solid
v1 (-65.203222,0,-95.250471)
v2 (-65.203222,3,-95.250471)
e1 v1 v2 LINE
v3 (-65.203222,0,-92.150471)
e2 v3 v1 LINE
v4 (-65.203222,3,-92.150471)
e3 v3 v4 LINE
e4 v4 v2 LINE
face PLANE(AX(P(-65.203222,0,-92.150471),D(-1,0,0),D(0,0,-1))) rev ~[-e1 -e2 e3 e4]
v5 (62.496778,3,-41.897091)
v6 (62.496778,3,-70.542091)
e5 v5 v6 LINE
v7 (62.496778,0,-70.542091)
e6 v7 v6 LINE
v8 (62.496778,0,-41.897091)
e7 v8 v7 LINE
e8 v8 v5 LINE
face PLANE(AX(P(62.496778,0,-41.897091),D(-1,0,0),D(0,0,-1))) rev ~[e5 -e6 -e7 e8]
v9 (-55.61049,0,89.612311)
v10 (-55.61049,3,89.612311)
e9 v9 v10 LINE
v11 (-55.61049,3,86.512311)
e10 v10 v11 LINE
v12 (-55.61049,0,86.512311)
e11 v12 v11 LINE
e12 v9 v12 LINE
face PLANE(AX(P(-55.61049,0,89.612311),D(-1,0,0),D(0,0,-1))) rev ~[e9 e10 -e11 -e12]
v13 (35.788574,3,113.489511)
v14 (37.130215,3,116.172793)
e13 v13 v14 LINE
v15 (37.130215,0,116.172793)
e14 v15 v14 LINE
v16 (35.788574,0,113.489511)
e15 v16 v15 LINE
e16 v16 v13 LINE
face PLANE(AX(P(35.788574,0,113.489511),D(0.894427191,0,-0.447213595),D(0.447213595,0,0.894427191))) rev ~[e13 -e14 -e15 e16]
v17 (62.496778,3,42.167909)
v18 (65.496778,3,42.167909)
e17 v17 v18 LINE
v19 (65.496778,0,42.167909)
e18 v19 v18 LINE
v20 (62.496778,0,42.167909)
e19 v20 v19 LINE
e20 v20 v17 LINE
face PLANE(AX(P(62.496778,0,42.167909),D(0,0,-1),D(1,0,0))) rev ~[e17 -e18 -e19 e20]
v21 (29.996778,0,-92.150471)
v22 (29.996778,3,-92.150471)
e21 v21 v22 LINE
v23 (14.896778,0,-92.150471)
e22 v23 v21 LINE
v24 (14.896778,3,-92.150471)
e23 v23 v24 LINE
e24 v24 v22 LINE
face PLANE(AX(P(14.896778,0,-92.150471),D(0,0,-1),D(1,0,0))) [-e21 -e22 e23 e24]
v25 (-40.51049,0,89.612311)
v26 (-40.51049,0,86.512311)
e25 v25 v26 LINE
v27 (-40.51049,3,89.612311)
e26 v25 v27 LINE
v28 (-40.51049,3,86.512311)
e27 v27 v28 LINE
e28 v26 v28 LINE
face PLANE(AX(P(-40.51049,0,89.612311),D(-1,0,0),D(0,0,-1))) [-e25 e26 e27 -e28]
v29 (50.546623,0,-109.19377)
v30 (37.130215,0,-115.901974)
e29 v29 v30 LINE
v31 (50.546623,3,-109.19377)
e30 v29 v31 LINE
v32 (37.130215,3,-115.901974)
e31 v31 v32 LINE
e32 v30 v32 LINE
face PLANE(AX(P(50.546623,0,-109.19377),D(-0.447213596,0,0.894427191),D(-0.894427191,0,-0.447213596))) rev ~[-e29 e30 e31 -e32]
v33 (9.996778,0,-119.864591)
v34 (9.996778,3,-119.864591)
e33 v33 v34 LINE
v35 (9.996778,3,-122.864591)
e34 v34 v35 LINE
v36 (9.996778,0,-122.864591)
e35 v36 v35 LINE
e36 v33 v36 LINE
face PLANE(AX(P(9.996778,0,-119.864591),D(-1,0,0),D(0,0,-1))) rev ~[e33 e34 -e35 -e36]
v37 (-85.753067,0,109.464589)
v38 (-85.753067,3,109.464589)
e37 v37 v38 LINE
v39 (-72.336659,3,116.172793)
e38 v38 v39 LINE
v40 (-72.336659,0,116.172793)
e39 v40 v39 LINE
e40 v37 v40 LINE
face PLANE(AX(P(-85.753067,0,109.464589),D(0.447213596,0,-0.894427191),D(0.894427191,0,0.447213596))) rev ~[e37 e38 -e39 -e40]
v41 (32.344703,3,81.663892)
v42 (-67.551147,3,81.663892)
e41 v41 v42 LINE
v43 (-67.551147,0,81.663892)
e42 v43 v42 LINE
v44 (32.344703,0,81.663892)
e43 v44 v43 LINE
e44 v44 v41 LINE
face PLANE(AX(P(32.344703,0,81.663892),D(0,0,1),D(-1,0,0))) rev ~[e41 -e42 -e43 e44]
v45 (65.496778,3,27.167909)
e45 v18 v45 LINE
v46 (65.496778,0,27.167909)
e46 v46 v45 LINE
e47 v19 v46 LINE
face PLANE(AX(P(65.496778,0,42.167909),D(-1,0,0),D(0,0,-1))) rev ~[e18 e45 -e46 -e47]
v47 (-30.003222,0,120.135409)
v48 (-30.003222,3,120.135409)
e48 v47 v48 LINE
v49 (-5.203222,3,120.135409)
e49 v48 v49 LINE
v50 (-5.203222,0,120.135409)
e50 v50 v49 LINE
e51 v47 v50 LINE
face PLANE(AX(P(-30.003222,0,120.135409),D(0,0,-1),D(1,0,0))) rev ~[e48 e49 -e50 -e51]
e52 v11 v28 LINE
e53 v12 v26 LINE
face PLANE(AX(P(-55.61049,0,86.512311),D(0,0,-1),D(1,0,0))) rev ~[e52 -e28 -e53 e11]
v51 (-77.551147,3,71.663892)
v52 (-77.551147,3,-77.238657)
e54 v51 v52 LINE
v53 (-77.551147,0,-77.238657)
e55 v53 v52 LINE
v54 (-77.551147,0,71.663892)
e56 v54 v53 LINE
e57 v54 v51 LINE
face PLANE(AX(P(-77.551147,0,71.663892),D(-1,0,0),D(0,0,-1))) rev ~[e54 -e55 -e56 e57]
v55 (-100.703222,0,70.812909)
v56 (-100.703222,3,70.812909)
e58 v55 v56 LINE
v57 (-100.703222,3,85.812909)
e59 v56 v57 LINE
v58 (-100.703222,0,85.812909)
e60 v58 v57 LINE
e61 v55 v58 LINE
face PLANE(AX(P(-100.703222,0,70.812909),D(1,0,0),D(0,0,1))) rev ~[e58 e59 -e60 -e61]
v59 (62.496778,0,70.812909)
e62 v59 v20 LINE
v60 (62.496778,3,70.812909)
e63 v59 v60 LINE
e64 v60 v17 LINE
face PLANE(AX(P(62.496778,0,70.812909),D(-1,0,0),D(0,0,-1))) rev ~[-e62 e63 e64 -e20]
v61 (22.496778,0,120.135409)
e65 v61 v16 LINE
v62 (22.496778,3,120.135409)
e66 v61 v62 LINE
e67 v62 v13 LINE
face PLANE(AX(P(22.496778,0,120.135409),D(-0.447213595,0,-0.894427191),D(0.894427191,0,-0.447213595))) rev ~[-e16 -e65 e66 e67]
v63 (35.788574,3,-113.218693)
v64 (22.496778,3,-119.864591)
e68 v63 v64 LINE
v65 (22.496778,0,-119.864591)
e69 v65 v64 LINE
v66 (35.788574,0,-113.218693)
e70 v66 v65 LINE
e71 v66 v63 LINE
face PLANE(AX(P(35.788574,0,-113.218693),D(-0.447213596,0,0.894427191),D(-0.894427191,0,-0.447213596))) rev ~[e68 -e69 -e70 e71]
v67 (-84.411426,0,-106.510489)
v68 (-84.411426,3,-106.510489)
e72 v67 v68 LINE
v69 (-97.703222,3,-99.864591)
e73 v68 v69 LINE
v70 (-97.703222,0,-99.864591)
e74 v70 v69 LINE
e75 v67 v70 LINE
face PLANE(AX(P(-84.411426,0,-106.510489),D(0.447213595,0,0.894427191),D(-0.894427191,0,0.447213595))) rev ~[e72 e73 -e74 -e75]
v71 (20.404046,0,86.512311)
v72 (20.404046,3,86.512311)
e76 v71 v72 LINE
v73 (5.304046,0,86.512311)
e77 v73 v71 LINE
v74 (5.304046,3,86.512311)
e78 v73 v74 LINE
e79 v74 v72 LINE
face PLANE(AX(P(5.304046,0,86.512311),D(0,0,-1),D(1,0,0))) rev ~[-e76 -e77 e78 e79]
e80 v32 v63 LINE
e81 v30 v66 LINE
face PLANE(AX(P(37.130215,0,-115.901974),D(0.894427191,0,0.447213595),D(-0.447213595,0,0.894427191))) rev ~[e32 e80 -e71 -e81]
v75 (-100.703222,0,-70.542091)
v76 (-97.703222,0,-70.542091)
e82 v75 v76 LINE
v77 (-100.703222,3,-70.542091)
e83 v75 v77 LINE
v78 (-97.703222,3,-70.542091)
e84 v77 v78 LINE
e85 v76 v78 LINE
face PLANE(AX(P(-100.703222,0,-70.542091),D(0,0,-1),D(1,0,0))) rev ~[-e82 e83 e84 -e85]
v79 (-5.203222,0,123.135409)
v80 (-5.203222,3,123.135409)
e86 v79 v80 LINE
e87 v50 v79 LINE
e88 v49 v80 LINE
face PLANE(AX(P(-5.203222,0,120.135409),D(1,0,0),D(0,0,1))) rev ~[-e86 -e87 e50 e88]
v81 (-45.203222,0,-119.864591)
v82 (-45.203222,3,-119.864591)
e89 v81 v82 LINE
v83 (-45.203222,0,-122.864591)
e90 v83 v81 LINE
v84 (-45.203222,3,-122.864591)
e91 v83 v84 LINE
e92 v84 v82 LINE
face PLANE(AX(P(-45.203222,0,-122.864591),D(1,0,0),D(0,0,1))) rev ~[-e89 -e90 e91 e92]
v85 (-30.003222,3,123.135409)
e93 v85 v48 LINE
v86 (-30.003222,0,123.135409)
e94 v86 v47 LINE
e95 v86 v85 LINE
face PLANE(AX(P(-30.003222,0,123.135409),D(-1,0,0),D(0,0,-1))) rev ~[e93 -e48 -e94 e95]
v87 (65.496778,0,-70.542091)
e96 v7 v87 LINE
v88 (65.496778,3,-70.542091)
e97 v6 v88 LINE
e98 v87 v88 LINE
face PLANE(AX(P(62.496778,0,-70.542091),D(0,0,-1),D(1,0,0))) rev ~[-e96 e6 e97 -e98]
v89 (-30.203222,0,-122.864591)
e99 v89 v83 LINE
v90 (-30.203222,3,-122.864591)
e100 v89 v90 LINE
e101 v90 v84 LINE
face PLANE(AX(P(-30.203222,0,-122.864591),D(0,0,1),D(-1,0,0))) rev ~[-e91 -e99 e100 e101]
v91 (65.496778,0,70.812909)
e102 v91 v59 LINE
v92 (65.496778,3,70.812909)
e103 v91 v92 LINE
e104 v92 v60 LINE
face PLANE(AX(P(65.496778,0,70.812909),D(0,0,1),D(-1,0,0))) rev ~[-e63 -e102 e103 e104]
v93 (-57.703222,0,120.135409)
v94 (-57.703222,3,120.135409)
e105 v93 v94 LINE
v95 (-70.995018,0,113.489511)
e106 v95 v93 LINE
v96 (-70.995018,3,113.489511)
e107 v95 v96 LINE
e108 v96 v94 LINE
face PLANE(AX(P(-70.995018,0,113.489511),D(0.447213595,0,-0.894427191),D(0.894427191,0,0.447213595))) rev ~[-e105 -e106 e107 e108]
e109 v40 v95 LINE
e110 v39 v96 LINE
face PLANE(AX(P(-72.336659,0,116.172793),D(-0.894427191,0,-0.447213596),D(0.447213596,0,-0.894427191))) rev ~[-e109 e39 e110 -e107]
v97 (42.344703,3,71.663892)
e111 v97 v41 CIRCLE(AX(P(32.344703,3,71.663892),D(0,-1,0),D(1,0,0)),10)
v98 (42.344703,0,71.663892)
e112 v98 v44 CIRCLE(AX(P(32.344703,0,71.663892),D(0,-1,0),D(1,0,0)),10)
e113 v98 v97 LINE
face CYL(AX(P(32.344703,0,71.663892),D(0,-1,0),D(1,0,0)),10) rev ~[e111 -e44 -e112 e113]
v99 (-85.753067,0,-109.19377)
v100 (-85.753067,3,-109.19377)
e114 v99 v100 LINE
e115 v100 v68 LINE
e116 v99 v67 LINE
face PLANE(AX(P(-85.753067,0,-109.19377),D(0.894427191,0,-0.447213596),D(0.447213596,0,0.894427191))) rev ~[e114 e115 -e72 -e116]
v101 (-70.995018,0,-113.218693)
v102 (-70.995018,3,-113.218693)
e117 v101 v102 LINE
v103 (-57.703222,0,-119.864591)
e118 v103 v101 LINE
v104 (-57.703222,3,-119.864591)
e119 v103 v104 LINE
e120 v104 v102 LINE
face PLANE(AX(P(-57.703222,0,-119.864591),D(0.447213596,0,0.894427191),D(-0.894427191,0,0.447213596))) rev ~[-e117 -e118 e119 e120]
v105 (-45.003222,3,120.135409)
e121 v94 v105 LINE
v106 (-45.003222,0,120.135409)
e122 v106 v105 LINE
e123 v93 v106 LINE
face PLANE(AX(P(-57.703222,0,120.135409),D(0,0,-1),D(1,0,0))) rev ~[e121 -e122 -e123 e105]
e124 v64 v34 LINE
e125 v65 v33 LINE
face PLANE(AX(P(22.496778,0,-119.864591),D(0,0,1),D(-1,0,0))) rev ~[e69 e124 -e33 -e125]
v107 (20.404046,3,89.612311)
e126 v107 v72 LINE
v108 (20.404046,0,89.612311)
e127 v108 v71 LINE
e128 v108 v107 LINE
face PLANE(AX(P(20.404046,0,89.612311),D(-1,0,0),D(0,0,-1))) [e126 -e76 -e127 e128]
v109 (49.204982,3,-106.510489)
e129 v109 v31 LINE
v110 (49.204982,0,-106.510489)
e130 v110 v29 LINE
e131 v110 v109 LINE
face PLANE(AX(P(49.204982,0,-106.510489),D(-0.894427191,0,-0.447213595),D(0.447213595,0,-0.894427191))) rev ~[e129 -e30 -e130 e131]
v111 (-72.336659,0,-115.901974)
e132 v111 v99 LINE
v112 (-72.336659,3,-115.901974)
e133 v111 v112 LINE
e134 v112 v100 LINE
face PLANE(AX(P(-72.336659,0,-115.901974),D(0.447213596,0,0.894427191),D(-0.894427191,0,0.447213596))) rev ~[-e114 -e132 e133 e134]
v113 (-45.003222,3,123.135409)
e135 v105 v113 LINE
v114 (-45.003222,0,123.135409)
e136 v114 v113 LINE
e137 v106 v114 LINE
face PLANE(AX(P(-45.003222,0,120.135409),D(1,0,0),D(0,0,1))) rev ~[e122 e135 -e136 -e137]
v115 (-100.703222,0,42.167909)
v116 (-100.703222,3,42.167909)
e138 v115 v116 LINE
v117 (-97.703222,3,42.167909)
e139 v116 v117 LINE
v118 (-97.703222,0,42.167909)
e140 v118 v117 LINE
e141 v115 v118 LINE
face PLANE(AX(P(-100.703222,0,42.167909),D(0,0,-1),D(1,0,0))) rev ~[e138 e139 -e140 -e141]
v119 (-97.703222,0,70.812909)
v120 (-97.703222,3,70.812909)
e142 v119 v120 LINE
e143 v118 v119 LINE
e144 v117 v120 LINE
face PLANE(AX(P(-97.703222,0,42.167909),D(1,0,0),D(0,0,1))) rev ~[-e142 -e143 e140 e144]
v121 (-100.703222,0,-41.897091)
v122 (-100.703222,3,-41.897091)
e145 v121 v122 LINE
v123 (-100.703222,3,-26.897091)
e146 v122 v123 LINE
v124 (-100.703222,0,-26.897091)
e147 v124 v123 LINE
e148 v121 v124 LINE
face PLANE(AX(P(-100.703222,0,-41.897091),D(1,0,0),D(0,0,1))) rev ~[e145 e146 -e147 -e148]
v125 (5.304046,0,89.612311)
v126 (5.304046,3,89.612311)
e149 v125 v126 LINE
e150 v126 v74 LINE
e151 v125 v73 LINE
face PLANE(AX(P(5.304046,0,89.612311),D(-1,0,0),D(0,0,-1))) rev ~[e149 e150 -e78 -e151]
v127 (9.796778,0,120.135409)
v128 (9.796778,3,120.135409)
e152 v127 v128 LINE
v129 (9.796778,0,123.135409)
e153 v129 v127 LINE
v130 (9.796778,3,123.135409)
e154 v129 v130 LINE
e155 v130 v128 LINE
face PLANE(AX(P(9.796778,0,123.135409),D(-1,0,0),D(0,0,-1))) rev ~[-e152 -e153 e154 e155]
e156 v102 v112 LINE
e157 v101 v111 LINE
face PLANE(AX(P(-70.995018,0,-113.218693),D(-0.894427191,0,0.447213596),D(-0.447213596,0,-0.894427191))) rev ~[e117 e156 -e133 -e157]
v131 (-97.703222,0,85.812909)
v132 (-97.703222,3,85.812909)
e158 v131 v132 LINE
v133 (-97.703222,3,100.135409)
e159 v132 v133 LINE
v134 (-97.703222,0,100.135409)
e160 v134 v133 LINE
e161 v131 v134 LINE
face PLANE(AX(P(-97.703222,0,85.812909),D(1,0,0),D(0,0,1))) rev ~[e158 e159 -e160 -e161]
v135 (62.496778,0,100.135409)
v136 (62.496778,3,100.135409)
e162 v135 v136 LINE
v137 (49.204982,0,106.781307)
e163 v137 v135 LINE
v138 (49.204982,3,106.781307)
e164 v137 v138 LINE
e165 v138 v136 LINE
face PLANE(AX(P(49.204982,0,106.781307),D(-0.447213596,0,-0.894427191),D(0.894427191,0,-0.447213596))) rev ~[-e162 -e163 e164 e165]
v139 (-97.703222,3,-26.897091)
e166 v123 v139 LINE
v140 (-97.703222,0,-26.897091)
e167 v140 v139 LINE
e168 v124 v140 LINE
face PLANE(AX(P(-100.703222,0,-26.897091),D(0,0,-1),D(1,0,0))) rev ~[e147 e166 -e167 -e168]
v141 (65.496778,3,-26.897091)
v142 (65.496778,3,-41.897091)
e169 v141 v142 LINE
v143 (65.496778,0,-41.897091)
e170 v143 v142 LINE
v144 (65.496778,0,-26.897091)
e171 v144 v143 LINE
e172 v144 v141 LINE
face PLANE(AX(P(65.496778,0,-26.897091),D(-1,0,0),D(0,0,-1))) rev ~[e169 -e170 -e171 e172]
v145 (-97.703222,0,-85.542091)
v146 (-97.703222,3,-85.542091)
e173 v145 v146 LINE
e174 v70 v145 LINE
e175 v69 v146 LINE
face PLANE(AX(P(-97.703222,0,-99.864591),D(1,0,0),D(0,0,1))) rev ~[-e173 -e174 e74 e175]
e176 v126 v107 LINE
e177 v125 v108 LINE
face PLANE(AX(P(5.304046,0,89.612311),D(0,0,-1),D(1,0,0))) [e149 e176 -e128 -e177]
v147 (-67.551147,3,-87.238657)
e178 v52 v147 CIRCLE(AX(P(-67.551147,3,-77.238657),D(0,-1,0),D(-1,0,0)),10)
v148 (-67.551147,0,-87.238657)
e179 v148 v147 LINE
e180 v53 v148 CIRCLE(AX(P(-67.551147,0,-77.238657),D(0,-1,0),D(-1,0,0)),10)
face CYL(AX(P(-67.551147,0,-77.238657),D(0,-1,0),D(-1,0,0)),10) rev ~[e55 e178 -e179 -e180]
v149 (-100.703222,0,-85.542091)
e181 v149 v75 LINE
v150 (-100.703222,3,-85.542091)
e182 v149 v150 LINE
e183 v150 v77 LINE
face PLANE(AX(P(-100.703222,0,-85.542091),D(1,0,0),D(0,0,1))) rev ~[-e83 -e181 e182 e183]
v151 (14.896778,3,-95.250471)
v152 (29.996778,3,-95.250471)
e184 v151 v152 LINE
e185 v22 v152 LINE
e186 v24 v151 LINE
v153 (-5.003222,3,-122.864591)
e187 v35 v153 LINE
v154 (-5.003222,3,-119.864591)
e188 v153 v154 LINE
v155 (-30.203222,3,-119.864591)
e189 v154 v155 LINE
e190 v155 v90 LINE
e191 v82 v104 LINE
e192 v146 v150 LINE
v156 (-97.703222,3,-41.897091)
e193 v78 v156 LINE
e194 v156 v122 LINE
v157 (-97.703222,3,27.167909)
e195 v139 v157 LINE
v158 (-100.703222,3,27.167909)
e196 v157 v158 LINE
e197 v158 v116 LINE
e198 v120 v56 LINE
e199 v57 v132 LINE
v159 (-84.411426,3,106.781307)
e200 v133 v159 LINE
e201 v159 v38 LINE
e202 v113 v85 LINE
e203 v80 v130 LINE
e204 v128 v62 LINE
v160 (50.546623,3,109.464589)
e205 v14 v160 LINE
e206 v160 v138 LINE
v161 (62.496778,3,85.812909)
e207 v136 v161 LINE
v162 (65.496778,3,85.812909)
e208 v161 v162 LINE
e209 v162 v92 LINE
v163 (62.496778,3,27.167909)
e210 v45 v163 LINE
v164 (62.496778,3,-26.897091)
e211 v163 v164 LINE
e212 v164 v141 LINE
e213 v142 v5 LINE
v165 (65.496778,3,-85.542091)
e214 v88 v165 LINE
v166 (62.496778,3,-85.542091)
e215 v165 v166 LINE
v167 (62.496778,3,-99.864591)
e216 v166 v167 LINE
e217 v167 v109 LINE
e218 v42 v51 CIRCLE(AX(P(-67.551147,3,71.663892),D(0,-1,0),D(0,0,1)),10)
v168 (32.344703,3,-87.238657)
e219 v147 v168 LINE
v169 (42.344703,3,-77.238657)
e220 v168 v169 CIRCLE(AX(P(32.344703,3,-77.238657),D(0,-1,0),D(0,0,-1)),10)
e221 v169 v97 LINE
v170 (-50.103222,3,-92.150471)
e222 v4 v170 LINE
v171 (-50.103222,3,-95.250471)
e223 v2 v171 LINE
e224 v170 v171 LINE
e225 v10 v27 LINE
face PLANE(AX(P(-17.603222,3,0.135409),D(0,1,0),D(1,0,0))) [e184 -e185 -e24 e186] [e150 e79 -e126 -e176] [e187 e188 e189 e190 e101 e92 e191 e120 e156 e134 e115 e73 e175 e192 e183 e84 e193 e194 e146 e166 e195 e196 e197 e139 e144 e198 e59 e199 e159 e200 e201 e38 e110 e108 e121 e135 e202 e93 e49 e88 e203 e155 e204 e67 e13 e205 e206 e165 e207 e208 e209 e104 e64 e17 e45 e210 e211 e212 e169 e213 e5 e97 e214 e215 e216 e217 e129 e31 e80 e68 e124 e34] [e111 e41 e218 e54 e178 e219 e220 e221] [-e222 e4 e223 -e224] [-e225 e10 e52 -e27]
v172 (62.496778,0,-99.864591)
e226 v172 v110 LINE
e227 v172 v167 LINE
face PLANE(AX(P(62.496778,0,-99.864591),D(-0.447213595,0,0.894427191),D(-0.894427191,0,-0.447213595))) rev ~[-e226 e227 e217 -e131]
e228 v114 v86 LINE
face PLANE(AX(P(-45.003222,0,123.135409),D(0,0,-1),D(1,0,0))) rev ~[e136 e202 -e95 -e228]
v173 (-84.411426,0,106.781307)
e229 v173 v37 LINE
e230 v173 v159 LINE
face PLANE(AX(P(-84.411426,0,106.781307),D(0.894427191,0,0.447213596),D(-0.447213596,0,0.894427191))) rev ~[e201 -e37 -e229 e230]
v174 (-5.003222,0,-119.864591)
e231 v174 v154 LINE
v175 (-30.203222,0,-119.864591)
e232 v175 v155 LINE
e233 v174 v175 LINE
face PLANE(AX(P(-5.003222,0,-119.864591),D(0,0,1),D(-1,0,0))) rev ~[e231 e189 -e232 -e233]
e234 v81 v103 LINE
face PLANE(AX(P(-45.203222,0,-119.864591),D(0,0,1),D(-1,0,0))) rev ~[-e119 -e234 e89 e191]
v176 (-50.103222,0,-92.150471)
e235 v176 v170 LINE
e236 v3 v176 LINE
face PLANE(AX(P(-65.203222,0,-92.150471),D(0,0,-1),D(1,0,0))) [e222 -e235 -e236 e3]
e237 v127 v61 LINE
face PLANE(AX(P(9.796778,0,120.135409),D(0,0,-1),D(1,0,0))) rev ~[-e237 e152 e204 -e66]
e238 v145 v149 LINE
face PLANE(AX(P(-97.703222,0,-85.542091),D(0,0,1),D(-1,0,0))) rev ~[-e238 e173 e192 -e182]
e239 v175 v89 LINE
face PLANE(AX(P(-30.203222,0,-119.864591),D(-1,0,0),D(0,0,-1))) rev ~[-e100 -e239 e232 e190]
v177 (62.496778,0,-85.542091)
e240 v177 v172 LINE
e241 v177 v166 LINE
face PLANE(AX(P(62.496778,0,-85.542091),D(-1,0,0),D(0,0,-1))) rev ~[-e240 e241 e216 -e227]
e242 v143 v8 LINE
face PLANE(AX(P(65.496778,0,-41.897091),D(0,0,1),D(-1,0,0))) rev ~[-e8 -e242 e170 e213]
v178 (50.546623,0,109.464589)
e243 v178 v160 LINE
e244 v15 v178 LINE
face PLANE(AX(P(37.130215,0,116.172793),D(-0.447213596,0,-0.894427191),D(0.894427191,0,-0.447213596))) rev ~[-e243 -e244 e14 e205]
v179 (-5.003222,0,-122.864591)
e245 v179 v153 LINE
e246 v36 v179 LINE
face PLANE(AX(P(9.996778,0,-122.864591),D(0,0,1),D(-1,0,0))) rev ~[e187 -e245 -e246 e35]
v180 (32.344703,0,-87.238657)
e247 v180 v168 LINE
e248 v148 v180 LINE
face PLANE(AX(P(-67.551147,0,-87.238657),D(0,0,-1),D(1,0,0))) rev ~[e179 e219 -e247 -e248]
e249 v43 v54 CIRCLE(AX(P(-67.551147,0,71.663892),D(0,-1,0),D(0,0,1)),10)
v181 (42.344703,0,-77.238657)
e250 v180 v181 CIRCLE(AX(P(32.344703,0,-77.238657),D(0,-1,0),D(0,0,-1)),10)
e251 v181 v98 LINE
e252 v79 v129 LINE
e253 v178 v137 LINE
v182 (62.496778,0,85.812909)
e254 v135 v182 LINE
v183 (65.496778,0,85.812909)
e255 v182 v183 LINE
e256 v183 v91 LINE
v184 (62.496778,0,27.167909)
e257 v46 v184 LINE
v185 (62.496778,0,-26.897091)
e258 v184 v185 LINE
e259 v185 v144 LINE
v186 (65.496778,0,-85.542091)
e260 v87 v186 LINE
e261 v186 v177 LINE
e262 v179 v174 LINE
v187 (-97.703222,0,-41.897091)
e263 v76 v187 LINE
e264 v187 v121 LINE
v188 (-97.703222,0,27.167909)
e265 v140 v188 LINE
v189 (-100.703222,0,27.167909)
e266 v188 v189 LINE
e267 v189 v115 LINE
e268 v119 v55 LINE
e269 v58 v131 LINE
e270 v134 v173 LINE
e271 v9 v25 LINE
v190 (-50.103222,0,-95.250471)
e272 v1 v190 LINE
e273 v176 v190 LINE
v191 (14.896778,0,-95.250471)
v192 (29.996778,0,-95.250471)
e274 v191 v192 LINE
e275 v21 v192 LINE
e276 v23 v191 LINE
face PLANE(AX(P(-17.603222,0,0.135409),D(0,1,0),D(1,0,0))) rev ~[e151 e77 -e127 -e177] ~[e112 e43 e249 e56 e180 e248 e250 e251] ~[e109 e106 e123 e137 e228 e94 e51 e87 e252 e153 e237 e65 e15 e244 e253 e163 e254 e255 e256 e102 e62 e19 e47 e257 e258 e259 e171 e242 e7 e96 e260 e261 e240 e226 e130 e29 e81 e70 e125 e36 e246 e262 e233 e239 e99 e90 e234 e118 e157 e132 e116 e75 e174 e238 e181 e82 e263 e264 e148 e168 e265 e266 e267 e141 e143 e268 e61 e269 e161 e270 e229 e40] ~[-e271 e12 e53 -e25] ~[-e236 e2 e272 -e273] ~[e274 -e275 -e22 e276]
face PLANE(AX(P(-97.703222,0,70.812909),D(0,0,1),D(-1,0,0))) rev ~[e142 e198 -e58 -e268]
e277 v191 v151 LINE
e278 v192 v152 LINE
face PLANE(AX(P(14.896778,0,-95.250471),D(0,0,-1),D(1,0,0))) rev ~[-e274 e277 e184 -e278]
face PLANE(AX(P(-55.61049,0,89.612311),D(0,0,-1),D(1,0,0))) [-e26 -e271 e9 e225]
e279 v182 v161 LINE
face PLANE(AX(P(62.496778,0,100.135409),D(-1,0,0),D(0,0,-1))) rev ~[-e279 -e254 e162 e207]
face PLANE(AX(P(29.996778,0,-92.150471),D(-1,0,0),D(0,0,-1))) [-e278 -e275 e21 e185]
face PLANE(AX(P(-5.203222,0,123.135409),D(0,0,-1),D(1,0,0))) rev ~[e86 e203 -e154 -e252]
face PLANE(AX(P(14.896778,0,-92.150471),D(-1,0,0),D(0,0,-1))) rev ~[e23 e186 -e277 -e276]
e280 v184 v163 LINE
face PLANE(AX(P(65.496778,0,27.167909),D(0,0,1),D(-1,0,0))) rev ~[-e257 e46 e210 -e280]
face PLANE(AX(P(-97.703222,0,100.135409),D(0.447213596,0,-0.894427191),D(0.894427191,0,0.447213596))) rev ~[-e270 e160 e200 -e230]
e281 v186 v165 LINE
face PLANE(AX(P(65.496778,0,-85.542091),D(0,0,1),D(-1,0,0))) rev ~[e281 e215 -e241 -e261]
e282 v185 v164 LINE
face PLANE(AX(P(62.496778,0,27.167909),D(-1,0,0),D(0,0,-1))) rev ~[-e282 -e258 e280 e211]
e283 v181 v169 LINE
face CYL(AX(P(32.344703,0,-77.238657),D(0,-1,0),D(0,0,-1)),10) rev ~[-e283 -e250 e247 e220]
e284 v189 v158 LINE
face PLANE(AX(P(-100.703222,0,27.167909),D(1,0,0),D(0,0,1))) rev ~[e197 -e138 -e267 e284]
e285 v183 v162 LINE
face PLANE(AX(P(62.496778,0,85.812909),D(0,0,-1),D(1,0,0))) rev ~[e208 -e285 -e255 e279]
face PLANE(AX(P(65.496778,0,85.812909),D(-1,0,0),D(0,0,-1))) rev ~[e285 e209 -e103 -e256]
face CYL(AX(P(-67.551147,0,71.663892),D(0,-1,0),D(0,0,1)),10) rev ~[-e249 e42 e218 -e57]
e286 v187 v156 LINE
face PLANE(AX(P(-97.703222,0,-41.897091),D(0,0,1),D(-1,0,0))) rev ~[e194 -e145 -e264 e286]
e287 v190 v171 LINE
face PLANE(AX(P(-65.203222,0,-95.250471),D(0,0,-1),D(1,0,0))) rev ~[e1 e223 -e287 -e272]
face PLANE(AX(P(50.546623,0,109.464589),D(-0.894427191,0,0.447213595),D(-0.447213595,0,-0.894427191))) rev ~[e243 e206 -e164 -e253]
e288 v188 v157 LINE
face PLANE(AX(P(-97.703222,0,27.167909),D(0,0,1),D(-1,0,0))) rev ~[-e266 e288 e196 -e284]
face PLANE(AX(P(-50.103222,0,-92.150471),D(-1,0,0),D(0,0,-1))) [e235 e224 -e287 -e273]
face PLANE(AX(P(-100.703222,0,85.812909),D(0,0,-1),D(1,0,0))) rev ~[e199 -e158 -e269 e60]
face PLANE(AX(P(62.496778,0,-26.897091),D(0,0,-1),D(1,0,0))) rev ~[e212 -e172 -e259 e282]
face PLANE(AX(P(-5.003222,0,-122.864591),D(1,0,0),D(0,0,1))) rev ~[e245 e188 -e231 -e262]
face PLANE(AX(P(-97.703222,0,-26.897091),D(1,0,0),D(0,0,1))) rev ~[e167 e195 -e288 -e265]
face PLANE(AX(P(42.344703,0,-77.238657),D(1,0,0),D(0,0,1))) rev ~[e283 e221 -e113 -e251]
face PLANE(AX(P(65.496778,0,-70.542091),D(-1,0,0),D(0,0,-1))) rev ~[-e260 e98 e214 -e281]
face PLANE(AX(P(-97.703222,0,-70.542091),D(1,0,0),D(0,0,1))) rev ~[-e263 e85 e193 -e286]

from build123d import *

# Parameters (mm, degrees)
SKETCH1_W           = 15.1
SKETCH1_H           = 3.1
BOSS_EXTRUDE1_DEPTH = 3


with BuildPart() as part:
    # Sketch1 → Boss-Extrude1 (new body)
    with BuildSketch(Plane(origin=(0, 0, 0), x_dir=(1, 0, 0), z_dir=(0, 1, 0))):
        Polygon((22.496777959, -120.1354094), (35.788574027, -113.489511367), (37.130214813, -116.17279294), (50.546622678, -109.464589007), (49.204981892, -106.781307434), (62.496777959, -100.1354094), (62.496777959, -85.8129094), (65.496777959, -85.8129094), (65.496777959, -70.8129094), (62.496777959, -70.8129094), (62.496777959, -42.1679094), (65.496777959, -42.1679094), (65.496777959, -27.1679094), (62.496777959, -27.1679094), (62.496777959, 2.411735491), (62.496777959, 26.8970906), (65.496777959, 26.8970906), (65.496777959, 41.8970906), (62.496777959, 41.8970906), (62.496777959, 70.5420906), (65.496777959, 70.5420906), (65.496777959, 85.5420906), (62.496777959, 85.5420906), (62.496777959, 99.8645906), (49.204981892, 106.510488633), (50.546622678, 109.193770206), (37.130214813, 115.901974139), (35.788574027, 113.218692566), (22.496777959, 119.8645906), (9.996777959, 119.8645906), (9.996777959, 122.8645906), (-5.003222041, 122.8645906), (-5.003222041, 119.8645906), (-30.203222041, 119.8645906), (-30.203222041, 122.8645906), (-45.203222041, 122.8645906), (-45.203222041, 119.8645906), (-57.703222041, 119.8645906), (-70.995018108, 113.218692566), (-72.336658895, 115.901974139), (-85.75306676, 109.193770206), (-84.411425973, 106.510488633), (-97.703222041, 99.8645906), (-97.703222041, 85.5420906), (-100.703222041, 85.5420906), (-100.703222041, 70.5420906), (-97.703222041, 70.5420906), (-97.703222041, 41.8970906), (-100.703222041, 41.8970906), (-100.703222041, 26.8970906), (-97.703222041, 26.8970906), (-97.703222041, 2.411735491), (-97.703222041, -27.1679094), (-100.703222041, -27.1679094), (-100.703222041, -42.1679094), (-97.703222041, -42.1679094), (-97.703222041, -70.8129094), (-100.703222041, -70.8129094), (-100.703222041, -85.8129094), (-97.703222041, -85.8129094), (-97.703222041, -100.1354094), (-84.411425973, -106.781307434), (-85.75306676, -109.464589007), (-72.336658895, -116.17279294), (-70.995018108, -113.489511367), (-57.703222041, -120.1354094), (-45.003222041, -120.1354094), (-45.003222041, -123.1354094), (-30.003222041, -123.1354094), (-30.003222041, -120.1354094), (-5.203222041, -120.1354094), (-5.203222041, -123.1354094), (9.796777959, -123.1354094), (9.796777959, -120.1354094), align=None)
        with Locations((-57.653222041, 93.700471208)):
            Rectangle(SKETCH1_W, SKETCH1_H, mode=Mode.SUBTRACT)
        with Locations((-48.060490447, -88.062310774)):
            Rectangle(SKETCH1_W, SKETCH1_H, mode=Mode.SUBTRACT)
        with Locations((22.446777959, 93.700471208)):
            Rectangle(SKETCH1_W, SKETCH1_H, mode=Mode.SUBTRACT)
        with Locations((12.854046365, -88.062310774)):
            Rectangle(SKETCH1_W, SKETCH1_H, mode=Mode.SUBTRACT)
        with BuildLine():
            Line((-67.551147117, 87.238656666), (32.344703035, 87.238656666))
            ThreePointArc((32.344703035, 87.238656666), (39.415770847, 84.309724478), (42.344703035, 77.238656666))
            Line((42.344703035, 77.238656666), (42.344703035, -71.663891856))
            ThreePointArc((42.344703035, -71.663891856), (39.415770847, -78.734959668), (32.344703035, -81.663891856))
            Line((32.344703035, -81.663891856), (-67.551147117, -81.663891856))
            ThreePointArc((-67.551147117, -81.663891856), (-74.622214928, -78.734959668), (-77.551147117, -71.663891856))
            Line((-77.551147117, -71.663891856), (-77.551147117, 77.238656666))
            ThreePointArc((-77.551147117, 77.238656666), (-74.622214928, 84.309724478), (-67.551147117, 87.238656666))
        make_face(mode=Mode.SUBTRACT)
    extrude(amount=BOSS_EXTRUDE1_DEPTH)


solid = part.part
